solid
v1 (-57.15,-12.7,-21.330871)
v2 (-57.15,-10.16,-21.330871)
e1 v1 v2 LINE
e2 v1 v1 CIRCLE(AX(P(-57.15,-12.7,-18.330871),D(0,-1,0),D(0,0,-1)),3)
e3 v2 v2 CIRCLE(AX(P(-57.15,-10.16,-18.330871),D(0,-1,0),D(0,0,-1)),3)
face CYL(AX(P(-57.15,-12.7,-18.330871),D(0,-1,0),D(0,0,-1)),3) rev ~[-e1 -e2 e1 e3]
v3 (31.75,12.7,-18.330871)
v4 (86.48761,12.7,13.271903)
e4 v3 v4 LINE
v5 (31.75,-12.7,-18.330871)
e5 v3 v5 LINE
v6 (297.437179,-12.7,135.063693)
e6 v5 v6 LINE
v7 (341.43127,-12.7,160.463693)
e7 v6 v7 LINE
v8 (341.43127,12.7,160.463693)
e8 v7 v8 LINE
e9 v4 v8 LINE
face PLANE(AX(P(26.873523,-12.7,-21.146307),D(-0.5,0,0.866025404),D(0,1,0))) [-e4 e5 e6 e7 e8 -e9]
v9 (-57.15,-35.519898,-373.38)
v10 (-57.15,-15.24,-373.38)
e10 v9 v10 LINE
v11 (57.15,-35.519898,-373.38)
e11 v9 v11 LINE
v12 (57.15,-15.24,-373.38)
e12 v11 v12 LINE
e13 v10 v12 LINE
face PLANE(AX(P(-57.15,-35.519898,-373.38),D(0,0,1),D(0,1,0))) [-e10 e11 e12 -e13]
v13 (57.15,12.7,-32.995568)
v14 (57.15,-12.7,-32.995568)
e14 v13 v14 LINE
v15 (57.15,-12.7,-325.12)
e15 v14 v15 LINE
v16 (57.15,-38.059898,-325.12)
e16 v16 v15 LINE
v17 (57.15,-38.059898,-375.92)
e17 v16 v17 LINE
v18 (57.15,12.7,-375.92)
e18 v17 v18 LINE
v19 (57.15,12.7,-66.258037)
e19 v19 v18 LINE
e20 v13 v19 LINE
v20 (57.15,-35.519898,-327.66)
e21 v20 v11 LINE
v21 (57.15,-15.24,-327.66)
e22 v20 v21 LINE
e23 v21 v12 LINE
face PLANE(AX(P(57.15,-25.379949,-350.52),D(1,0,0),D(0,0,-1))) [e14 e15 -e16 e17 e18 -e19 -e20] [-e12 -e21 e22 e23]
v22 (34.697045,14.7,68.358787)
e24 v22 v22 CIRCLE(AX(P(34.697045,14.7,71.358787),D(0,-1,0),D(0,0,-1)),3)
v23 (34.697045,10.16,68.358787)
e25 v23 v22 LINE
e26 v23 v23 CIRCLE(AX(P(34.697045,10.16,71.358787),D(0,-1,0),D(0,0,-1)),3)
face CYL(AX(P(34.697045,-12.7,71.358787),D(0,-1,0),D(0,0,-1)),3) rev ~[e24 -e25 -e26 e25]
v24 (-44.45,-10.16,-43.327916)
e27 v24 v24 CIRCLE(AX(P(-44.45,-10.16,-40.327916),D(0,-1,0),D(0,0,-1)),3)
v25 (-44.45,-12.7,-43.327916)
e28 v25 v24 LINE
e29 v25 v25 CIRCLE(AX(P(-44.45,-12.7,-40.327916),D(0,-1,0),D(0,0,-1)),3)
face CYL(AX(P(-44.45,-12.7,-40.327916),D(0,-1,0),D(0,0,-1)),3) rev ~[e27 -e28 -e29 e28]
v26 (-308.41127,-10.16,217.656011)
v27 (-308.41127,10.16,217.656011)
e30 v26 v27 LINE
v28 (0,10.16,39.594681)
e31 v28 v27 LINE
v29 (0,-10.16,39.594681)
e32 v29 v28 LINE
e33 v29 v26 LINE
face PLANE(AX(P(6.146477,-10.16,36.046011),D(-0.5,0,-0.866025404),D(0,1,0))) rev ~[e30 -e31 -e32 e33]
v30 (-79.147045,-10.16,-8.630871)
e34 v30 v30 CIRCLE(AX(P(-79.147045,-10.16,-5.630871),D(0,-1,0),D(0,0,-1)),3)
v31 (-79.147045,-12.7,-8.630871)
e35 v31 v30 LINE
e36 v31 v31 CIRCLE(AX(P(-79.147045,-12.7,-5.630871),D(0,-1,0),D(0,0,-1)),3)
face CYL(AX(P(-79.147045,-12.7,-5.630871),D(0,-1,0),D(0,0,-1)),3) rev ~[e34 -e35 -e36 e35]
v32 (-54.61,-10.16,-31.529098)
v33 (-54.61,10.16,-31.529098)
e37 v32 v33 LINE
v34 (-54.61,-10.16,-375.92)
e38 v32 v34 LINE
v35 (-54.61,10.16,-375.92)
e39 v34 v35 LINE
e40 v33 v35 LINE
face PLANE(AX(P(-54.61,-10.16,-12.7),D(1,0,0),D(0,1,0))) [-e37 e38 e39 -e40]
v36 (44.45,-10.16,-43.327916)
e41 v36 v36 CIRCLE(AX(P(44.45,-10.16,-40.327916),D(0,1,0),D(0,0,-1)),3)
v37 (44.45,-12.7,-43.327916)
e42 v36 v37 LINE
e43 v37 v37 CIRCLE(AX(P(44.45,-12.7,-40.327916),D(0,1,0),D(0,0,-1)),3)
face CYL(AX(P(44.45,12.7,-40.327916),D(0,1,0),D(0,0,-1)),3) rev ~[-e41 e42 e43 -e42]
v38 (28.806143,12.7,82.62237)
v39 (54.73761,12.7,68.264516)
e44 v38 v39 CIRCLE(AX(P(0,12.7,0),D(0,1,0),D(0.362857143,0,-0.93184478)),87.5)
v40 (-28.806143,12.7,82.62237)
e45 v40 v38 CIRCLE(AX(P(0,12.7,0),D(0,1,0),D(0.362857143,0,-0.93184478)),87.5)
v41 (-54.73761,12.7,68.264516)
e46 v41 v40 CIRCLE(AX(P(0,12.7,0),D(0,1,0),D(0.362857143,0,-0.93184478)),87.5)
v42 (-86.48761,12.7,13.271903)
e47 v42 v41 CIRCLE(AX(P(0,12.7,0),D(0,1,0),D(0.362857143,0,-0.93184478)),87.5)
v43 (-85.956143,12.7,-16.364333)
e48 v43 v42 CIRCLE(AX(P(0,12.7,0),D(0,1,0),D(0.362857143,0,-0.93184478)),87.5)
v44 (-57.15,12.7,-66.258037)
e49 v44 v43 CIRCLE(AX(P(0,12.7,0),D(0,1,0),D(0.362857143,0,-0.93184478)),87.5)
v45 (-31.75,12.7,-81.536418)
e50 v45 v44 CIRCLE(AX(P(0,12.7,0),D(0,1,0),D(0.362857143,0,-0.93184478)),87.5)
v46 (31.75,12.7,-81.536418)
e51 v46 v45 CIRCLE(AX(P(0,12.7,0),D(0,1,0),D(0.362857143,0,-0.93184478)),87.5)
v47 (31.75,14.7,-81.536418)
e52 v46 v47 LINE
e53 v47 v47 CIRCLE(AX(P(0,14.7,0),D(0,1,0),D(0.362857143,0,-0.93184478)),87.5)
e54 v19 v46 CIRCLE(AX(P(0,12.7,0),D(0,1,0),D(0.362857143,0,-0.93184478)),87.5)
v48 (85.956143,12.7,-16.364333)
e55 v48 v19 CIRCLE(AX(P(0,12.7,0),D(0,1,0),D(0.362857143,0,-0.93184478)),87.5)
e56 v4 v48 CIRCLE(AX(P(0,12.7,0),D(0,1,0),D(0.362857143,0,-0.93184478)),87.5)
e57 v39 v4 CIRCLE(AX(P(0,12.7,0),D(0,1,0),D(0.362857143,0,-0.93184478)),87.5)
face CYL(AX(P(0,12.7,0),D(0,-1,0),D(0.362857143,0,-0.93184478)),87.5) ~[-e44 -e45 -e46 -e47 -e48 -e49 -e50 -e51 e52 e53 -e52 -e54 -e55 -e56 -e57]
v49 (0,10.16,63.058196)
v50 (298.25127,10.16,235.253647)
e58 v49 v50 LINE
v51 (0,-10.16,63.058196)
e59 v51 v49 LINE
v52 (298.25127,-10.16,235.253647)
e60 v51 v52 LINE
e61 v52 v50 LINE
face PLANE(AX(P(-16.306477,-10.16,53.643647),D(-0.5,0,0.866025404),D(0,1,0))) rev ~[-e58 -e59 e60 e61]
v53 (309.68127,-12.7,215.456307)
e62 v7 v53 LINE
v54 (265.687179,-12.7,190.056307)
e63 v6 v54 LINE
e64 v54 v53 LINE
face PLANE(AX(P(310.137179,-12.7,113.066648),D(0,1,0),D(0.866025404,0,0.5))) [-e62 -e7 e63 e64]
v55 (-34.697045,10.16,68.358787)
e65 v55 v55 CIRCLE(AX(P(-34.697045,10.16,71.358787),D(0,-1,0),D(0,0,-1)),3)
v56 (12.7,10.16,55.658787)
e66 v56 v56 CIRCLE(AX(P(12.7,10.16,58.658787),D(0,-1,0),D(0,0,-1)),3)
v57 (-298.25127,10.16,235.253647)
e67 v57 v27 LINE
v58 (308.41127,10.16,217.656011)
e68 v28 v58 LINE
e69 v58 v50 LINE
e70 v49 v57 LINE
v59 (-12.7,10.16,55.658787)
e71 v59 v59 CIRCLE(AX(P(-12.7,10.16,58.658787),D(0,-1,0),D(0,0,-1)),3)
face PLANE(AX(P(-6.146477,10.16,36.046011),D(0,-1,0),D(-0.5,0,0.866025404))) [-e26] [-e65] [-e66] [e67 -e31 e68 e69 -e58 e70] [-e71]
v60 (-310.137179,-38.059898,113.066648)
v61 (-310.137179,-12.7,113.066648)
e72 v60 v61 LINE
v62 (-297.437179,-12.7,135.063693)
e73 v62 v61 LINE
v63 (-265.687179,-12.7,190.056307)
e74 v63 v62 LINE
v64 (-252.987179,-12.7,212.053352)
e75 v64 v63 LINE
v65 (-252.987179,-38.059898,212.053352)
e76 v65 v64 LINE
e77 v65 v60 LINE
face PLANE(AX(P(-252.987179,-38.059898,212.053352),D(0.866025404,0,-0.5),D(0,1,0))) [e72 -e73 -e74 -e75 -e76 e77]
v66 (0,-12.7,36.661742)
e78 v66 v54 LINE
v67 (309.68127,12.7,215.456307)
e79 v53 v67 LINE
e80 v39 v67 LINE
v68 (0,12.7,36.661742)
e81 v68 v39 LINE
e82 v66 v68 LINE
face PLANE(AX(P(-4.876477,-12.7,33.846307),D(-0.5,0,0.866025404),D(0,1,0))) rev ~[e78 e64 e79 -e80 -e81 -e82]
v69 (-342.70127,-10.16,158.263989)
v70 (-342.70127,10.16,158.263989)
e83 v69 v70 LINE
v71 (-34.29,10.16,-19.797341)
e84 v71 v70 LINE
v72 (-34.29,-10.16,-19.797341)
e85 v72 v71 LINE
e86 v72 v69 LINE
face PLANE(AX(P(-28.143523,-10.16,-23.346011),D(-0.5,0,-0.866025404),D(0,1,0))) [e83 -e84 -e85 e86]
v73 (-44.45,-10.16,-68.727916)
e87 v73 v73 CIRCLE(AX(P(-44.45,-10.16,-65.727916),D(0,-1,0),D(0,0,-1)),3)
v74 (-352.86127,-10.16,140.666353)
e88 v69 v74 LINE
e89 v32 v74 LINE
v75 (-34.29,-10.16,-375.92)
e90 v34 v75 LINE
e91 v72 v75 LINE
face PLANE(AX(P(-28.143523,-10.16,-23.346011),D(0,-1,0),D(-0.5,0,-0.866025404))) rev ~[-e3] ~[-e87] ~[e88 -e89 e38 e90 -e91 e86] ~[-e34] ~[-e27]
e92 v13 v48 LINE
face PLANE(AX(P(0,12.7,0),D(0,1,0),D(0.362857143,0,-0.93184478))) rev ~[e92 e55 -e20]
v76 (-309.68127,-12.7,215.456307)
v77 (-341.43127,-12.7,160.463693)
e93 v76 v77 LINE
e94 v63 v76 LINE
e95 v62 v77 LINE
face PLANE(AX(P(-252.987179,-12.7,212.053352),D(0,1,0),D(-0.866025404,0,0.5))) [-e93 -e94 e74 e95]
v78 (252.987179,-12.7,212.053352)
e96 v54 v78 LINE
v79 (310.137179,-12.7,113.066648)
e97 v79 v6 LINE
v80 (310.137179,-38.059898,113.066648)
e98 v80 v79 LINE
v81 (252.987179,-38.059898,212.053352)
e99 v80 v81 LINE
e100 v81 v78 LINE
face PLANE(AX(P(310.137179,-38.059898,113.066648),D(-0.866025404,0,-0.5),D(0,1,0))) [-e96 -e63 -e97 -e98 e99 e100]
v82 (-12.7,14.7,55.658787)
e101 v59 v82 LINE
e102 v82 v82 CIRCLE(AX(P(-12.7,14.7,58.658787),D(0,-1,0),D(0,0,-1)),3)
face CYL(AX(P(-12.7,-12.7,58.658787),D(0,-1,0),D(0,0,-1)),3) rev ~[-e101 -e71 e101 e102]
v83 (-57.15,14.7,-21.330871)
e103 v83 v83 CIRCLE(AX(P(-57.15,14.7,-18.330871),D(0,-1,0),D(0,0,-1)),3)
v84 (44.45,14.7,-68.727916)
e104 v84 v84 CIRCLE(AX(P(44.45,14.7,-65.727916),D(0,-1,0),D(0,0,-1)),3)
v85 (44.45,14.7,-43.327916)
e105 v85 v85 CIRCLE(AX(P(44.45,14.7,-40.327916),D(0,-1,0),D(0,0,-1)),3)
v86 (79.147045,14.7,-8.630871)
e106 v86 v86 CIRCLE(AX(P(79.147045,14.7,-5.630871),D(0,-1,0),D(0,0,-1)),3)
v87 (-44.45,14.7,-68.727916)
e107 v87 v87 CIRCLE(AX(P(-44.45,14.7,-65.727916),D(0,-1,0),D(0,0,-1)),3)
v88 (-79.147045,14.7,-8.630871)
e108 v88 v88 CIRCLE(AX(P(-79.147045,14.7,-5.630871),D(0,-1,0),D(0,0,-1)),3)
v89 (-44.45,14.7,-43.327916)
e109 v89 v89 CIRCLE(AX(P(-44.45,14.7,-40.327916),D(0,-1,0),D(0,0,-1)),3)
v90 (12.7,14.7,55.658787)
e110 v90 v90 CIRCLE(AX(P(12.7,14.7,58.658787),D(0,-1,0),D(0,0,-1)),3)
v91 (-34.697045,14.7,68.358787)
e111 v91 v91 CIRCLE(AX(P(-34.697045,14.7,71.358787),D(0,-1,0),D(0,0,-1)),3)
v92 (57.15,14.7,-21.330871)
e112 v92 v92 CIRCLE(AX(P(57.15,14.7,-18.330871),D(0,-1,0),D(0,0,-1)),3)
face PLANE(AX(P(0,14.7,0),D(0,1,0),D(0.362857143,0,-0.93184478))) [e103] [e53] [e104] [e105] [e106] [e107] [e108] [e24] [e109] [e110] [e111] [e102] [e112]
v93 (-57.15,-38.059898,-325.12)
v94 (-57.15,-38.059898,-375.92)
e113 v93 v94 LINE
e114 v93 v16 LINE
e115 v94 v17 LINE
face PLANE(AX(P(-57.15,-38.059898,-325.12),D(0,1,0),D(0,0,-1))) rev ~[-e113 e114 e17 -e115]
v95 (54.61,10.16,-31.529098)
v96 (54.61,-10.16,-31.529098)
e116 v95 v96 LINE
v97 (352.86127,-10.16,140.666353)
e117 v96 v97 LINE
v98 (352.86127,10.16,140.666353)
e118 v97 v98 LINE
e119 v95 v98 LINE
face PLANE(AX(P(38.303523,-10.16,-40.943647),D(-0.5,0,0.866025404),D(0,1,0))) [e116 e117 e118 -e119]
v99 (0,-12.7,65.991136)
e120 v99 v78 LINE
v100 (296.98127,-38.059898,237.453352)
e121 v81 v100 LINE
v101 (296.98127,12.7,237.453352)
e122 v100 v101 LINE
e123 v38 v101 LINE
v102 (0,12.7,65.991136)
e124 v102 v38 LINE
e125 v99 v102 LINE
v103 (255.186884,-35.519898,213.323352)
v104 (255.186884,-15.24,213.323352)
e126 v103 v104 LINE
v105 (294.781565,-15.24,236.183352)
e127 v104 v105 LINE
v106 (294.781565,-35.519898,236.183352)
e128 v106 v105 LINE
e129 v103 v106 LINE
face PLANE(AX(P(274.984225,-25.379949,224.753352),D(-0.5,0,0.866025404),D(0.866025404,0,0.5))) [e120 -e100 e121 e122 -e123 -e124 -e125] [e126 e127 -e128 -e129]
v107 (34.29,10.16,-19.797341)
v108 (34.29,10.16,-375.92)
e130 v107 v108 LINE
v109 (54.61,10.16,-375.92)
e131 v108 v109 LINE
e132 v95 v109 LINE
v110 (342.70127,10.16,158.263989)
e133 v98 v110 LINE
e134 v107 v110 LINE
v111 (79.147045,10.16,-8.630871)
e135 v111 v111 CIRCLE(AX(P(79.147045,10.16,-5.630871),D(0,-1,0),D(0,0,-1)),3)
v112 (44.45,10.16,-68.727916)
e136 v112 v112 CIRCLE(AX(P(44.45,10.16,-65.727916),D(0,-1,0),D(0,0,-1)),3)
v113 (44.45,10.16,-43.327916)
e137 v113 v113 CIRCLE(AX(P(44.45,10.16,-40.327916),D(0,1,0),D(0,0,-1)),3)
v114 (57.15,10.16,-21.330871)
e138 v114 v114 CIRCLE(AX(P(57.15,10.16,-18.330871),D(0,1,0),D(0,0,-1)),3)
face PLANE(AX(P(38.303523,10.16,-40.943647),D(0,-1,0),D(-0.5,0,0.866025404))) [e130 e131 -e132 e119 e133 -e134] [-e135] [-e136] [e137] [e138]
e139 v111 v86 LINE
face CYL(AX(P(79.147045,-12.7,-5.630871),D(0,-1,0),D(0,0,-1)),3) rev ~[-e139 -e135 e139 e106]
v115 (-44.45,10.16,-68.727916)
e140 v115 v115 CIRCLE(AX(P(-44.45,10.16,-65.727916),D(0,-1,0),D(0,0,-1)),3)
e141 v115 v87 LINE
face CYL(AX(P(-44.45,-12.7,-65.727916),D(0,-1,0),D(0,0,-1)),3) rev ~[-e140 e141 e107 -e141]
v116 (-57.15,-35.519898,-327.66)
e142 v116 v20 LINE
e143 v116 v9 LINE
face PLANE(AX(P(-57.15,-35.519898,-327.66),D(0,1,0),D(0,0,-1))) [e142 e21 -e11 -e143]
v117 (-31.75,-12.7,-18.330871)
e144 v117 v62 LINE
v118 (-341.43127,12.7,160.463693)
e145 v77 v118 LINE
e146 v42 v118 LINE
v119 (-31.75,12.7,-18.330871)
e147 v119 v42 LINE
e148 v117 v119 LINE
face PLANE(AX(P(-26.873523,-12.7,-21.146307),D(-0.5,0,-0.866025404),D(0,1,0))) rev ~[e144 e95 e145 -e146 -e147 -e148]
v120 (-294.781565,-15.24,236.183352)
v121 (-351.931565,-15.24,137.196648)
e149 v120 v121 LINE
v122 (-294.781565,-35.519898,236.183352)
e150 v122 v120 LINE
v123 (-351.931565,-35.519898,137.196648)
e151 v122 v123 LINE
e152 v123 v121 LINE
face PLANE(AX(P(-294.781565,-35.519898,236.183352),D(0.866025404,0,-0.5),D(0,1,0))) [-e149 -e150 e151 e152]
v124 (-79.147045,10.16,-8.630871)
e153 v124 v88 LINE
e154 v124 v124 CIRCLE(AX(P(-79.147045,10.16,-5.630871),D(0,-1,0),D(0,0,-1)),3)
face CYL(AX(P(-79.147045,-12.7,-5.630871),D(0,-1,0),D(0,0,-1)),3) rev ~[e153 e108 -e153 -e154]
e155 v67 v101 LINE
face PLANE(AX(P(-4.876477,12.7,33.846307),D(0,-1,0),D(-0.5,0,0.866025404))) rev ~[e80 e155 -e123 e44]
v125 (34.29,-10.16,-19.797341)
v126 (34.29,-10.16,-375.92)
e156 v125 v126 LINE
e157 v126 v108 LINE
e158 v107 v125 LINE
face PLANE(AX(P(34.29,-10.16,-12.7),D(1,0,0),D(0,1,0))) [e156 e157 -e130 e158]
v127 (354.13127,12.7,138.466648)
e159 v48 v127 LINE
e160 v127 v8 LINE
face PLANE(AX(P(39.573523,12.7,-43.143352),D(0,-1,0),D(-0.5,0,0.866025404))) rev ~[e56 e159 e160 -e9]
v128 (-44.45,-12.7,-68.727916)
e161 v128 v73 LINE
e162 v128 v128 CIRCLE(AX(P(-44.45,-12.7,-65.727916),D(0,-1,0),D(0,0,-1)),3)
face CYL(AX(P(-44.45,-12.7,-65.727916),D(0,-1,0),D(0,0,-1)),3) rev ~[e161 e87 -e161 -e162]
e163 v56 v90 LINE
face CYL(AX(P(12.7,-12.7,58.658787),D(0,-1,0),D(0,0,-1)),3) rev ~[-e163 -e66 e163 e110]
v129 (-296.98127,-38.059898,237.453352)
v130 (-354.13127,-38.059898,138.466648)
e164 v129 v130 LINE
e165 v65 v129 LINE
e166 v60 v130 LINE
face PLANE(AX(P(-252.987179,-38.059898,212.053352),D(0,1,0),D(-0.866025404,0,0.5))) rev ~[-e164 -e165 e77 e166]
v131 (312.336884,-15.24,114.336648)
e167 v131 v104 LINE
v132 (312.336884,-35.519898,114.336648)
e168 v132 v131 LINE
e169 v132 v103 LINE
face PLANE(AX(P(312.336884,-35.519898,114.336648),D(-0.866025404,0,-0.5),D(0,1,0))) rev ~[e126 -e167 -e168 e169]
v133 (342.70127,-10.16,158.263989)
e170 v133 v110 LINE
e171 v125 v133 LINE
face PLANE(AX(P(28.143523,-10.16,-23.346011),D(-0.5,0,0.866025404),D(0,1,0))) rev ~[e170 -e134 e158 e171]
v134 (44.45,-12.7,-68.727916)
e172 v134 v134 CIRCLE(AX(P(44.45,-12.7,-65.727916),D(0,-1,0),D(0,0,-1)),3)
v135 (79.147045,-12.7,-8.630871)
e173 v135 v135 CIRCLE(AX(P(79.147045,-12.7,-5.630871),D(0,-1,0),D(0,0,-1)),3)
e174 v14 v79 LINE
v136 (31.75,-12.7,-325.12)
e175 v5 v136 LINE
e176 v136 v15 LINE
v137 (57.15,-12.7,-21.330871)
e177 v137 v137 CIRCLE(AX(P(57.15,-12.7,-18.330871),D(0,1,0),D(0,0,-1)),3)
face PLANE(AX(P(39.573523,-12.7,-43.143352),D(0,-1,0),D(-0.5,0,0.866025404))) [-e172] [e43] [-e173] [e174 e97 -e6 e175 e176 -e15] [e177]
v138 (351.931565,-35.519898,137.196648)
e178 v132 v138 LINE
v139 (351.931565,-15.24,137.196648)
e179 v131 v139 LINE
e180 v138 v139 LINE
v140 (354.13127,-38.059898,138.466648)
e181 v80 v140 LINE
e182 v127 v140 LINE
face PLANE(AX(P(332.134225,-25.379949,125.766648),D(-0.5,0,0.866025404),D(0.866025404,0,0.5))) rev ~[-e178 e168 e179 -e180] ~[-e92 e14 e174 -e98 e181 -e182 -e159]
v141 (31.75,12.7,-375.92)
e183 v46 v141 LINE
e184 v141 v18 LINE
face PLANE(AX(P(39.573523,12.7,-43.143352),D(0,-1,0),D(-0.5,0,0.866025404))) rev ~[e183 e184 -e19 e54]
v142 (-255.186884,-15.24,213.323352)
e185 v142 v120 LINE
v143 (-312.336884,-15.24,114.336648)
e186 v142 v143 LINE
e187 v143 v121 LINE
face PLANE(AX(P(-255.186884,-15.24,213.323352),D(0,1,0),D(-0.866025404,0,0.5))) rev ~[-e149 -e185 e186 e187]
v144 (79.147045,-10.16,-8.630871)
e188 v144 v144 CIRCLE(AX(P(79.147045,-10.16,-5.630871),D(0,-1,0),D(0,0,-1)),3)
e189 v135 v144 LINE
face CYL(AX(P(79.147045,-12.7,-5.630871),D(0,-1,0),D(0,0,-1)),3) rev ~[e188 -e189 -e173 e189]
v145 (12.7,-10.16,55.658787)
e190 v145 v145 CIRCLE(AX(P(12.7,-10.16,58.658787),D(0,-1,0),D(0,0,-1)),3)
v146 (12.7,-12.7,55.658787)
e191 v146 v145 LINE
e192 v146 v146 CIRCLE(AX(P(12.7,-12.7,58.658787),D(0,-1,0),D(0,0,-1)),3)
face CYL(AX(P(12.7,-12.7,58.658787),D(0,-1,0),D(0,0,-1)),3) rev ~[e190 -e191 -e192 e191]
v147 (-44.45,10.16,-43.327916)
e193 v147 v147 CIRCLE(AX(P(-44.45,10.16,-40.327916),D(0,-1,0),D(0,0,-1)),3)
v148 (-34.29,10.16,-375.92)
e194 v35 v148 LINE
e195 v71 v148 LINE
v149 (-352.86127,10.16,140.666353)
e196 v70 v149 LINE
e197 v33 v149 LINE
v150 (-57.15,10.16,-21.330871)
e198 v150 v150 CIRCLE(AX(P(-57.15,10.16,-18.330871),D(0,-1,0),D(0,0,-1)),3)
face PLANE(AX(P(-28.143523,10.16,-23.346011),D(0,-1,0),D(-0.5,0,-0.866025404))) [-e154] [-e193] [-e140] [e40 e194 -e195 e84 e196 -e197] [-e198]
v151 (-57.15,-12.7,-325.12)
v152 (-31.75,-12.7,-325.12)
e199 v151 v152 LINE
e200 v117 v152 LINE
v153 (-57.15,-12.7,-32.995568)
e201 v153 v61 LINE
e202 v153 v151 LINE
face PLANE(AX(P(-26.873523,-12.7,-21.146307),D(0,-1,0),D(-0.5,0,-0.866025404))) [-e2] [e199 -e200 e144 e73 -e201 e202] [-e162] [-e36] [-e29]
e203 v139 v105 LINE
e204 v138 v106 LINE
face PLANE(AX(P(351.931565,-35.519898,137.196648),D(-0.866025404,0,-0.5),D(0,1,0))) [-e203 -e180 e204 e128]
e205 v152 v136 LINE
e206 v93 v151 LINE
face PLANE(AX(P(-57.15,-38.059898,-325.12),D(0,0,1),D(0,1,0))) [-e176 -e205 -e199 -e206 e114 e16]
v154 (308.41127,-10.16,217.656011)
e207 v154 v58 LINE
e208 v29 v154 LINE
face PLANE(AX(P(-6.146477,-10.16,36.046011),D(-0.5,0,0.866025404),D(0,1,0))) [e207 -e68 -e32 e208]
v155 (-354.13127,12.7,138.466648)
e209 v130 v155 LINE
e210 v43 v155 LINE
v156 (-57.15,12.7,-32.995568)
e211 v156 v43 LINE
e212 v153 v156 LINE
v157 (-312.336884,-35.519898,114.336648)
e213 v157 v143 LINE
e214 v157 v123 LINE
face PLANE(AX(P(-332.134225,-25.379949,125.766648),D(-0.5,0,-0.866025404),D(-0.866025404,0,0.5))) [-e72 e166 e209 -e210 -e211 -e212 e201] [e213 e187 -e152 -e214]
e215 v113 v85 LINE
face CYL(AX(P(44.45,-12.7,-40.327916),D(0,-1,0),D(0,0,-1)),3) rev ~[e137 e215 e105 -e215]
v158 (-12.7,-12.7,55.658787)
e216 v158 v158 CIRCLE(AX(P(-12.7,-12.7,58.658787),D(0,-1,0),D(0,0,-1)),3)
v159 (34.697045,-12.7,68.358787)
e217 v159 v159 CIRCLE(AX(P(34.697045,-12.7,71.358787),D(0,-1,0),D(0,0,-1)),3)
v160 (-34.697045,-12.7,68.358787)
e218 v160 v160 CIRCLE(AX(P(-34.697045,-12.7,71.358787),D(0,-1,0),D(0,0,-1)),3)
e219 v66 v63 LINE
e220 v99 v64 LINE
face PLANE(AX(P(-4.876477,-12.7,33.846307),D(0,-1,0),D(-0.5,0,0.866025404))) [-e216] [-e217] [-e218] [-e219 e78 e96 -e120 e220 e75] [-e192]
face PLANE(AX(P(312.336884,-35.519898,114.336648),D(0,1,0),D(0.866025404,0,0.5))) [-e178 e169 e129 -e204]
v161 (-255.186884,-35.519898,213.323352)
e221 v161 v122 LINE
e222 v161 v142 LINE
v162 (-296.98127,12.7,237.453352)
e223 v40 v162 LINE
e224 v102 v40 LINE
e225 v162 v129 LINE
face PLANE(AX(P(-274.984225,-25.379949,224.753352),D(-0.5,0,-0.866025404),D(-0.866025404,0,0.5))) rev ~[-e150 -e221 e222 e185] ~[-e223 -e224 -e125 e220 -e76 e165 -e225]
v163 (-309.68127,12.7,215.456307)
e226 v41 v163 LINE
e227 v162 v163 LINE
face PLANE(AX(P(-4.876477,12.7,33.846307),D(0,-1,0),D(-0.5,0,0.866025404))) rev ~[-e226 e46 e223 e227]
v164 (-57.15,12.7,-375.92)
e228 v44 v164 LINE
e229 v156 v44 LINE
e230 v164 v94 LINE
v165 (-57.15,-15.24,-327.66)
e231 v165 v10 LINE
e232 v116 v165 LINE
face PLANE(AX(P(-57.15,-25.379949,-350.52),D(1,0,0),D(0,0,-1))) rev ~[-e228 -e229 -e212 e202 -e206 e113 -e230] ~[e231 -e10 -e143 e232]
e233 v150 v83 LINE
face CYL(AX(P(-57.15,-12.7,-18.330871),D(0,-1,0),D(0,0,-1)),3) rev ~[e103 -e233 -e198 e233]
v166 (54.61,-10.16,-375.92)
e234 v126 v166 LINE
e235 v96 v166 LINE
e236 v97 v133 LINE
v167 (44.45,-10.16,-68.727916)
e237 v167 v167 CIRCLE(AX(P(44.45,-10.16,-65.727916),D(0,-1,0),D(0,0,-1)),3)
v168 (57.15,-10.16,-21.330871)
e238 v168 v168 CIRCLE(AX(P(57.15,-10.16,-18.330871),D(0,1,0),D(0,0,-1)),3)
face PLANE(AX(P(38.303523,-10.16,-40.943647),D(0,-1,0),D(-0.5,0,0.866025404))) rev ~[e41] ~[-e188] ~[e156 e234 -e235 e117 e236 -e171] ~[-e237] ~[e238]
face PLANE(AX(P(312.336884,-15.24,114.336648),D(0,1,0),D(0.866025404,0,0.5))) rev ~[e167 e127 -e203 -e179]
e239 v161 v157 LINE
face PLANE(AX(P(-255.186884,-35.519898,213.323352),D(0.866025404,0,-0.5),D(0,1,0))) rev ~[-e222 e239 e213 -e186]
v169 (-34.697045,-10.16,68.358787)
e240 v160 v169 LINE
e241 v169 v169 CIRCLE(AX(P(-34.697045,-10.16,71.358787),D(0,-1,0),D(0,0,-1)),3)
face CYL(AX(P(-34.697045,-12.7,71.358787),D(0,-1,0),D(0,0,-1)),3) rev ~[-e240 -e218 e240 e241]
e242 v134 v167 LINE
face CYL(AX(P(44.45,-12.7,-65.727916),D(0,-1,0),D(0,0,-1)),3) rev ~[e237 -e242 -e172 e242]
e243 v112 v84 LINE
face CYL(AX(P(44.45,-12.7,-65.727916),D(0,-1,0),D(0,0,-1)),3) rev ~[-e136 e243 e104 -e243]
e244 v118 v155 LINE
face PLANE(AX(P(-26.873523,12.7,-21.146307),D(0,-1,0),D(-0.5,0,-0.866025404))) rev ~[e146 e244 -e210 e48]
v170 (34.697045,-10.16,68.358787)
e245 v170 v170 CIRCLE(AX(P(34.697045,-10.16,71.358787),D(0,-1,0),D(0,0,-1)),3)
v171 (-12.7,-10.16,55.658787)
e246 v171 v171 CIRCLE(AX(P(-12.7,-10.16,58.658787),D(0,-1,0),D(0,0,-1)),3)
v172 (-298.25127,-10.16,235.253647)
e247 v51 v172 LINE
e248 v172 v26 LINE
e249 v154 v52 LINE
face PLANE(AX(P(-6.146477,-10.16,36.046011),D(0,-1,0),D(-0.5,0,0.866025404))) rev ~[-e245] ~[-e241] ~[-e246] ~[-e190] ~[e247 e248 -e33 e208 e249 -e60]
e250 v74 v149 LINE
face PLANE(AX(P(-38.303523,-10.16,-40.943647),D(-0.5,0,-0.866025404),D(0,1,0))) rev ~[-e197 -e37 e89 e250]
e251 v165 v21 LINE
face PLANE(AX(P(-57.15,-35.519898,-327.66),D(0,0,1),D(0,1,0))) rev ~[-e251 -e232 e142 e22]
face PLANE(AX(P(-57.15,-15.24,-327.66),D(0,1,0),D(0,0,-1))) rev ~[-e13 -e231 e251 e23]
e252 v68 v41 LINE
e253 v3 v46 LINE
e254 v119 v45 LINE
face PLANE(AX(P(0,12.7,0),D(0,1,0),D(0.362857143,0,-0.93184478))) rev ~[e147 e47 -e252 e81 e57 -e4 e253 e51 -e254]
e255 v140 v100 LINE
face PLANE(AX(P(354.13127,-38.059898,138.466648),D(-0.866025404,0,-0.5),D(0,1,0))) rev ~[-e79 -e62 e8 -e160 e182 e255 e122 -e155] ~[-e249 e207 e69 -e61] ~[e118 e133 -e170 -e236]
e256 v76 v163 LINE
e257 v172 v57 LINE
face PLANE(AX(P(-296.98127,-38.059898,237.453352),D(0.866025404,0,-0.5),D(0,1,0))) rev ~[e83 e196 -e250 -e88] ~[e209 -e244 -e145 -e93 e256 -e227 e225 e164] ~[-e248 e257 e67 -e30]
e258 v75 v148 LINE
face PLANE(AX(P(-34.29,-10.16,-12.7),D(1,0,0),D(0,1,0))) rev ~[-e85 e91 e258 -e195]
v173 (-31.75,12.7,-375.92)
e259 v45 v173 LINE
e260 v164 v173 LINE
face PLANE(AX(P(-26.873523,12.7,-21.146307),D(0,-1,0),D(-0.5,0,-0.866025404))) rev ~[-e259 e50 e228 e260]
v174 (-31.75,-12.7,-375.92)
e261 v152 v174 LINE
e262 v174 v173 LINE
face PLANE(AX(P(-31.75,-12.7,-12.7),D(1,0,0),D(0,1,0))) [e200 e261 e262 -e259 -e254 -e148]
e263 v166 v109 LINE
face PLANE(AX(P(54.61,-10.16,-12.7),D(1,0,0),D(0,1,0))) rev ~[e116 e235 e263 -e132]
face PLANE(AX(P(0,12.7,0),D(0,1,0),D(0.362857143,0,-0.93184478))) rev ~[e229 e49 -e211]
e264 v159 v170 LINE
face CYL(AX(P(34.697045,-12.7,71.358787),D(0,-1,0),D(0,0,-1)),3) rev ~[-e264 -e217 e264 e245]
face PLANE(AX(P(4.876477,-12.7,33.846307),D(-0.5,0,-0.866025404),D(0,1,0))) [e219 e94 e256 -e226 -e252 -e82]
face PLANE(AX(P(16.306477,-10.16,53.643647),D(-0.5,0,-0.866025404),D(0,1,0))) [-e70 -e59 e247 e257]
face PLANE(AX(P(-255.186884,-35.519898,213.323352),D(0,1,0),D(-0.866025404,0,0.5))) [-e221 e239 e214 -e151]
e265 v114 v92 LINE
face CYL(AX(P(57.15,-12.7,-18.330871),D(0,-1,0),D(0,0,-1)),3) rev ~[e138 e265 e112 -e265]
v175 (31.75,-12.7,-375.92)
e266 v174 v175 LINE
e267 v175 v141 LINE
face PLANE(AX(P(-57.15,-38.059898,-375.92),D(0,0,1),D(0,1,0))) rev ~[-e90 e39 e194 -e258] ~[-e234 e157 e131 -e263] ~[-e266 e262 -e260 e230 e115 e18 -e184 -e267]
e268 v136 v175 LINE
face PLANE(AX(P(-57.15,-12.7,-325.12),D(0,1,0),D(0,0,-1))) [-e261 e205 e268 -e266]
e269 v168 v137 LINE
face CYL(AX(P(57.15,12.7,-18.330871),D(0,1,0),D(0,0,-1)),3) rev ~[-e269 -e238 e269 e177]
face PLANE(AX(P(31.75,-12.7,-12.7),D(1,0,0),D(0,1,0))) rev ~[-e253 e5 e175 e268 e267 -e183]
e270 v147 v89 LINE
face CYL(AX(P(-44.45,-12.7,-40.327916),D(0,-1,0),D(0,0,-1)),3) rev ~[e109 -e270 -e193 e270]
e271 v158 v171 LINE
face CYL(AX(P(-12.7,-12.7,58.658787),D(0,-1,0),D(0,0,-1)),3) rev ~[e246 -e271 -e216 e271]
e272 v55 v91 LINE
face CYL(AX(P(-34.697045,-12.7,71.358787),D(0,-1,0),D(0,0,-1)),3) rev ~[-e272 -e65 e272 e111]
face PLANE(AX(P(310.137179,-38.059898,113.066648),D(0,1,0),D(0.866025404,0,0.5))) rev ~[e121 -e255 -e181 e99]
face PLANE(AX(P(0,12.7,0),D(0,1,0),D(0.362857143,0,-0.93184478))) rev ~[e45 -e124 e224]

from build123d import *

# Parameters (mm, degrees)
SKETCH6_W             = 25.4
SKETCH6_H             = 25.4
SKETCH6_W_2           = 20.32
SKETCH6_H_2           = 20.32
BOSS_EXTRUDE3_DEPTH   = 363.22
BOSS_EXTRUDE3_2_DEPTH = 363.22
SKETCH7_W             = 50.8
SKETCH7_H             = 25.359897542
SKETCH7_W_2           = 45.72
SKETCH7_H_2           = 20.279897542
BOSS_EXTRUDE4_DEPTH   = 114.3
CUT_EXTRUDE1_DEPTH    = 384.612481677
CUT_EXTRUDE2_DEPTH    = 384.612481677
CIRPATTERN1_COUNT     = 3
SKETCH12_R            = 3
CUT_EXTRUDE3_DEPTH    = 519.942549655
SKETCH13_R            = 87.5
BOSS_EXTRUDE6_DEPTH   = 2
SKETCH14_R            = 3
CUT_EXTRUDE4_DEPTH    = 518.180396616


with BuildPart() as part:
    # Sketch6 → Boss-Extrude3 (new body)
    with BuildSketch(Plane.XY.offset(-12.7)):
        with Locations((-44.45, 0)):
            Rectangle(SKETCH6_W, SKETCH6_H)
        with Locations((-44.45, 0)):
            Rectangle(SKETCH6_W_2, SKETCH6_H_2, mode=Mode.SUBTRACT)
    extrude(amount=-BOSS_EXTRUDE3_DEPTH)



with BuildPart() as body_2:
    # Sketch6 → Boss-Extrude3 2 (new body)
    with BuildSketch(Plane.XY.offset(-12.7)):
        with Locations((44.45, 0)):
            Rectangle(SKETCH6_W, SKETCH6_H)
        with Locations((44.45, 0)):
            Rectangle(SKETCH6_W_2, SKETCH6_H_2, mode=Mode.SUBTRACT)
    extrude(amount=-BOSS_EXTRUDE3_2_DEPTH)


with BuildPart() as part_1:
    add(part.part)

    add(body_2.part)  # Boss-Extrude4 merges body 2
    # Sketch7 → Boss-Extrude4 (add)
    with BuildSketch(Plane(origin=(-57.15, 0, 0), x_dir=(0, 0, -1), z_dir=(1, 0, 0))):
        with Locations((350.52, -25.379948771)):
            Rectangle(SKETCH7_W, SKETCH7_H)
        with Locations((350.52, -25.379948771)):
            Rectangle(SKETCH7_W_2, SKETCH7_H_2, mode=Mode.SUBTRACT)
    extrude(amount=BOSS_EXTRUDE4_DEPTH)

    # Sketch9 → Cut-Extrude1 (cut, through all)
    with BuildSketch(Plane(origin=(0, 12.7, 0), x_dir=(1, 0, 0), z_dir=(0, 1, 0))):
        Polygon((0, 0), (66.166370432, 38.20117178), (56.531711502, -13.195312554), align=None)
    extrude(amount=-CUT_EXTRUDE1_DEPTH, mode=Mode.SUBTRACT)

    # Sketch10 → Cut-Extrude2 (cut, through all)
    with BuildSketch(Plane(origin=(0, 12.7, 0), x_dir=(1, 0, 0), z_dir=(0, 1, 0))):
        Polygon((0, 0), (-91.357136084, 52.74506711), (-72.051101597, -19.306034487), align=None)
    extrude(amount=-CUT_EXTRUDE2_DEPTH, mode=Mode.SUBTRACT)


with BuildPart() as cirpattern1_1:
    # CirPattern1: pattern copy
    add(part_1.part.rotate(Axis((0, 0, 0), (0, 1, 0)), 1 * 360 / CIRPATTERN1_COUNT))


with BuildPart() as cirpattern1_2:
    # CirPattern1: pattern copy
    add(part_1.part.rotate(Axis((0, 0, 0), (0, 1, 0)), 2 * 360 / CIRPATTERN1_COUNT))


with BuildPart() as cut_extrude3_tool:
    # Sketch12 → Cut-Extrude3 (new, through all)
    with BuildSketch(Plane(origin=(0, 12.7, 0), x_dir=(1, 0, 0), z_dir=(0, 1, 0))):
        with Locations(Location((44.45, 40.327916303, 0), (0, 0, 90))):
            Circle(SKETCH12_R)
        with Locations(Location((57.15, 18.330871047, 0), (0, 0, 90))):
            Circle(SKETCH12_R)
    extrude(amount=-CUT_EXTRUDE3_DEPTH)


with BuildPart() as part_2:
    add(part_1.part)

    # Cut-Extrude3: cut by cut_extrude3_tool
    add(cut_extrude3_tool.part, mode=Mode.SUBTRACT)


    add(cirpattern1_1.part)  # Boss-Extrude6 merges CirPattern1_1


with BuildPart() as cirpattern1_2_1:
    add(cirpattern1_2.part)

    # Cut-Extrude3: cut by cut_extrude3_tool
    add(cut_extrude3_tool.part, mode=Mode.SUBTRACT)


with BuildPart() as part_3:
    add(part_2.part)

    add(cirpattern1_2_1.part)  # Boss-Extrude6 merges CirPattern1_2
    # Sketch13 → Boss-Extrude6 (add)
    with BuildSketch(Plane(origin=(0, 12.7, 0), x_dir=(1, 0, 0), z_dir=(0, 1, 0))):
        with Locations(Location((0, 0, 0), (0, 0, 68.724233024))):
            Circle(SKETCH13_R)
    extrude(amount=BOSS_EXTRUDE6_DEPTH)

    # Sketch14 → Cut-Extrude4 (cut, through all)
    with BuildSketch(Plane.XZ.offset(12.7)):
        with Locations(Location((57.15, -18.330871047, 0), (0, 0, 270))):
            Circle(SKETCH14_R)
        with Locations(Location((44.45, -40.327916303, 0), (0, 0, 270))):
            Circle(SKETCH14_R)
        with Locations(Location((-57.15, -18.330871047, 0), (0, 0, 270))):
            Circle(SKETCH14_R)
        with Locations(Location((-44.45, -40.327916303, 0), (0, 0, 270))):
            Circle(SKETCH14_R)
        with Locations(Location((12.7, 58.65878735, 0), (0, 0, 270))):
            Circle(SKETCH14_R)
        with Locations(Location((-12.7, 58.65878735, 0), (0, 0, 270))):
            Circle(SKETCH14_R)
        with Locations(Location((44.45, -65.727916303, 0), (0, 0, 270))):
            Circle(SKETCH14_R)
        with Locations(Location((79.147045256, -5.630871047, 0), (0, 0, 270))):
            Circle(SKETCH14_R)
        with Locations(Location((34.697045256, 71.35878735, 0), (0, 0, 270))):
            Circle(SKETCH14_R)
        with Locations(Location((-34.697045256, 71.35878735, 0), (0, 0, 270))):
            Circle(SKETCH14_R)
        with Locations(Location((-79.147045256, -5.630871047, 0), (0, 0, 270))):
            Circle(SKETCH14_R)
        with Locations(Location((-44.45, -65.727916303, 0), (0, 0, 270))):
            Circle(SKETCH14_R)
    extrude(amount=-CUT_EXTRUDE4_DEPTH, mode=Mode.SUBTRACT)


solid = part_3.part
